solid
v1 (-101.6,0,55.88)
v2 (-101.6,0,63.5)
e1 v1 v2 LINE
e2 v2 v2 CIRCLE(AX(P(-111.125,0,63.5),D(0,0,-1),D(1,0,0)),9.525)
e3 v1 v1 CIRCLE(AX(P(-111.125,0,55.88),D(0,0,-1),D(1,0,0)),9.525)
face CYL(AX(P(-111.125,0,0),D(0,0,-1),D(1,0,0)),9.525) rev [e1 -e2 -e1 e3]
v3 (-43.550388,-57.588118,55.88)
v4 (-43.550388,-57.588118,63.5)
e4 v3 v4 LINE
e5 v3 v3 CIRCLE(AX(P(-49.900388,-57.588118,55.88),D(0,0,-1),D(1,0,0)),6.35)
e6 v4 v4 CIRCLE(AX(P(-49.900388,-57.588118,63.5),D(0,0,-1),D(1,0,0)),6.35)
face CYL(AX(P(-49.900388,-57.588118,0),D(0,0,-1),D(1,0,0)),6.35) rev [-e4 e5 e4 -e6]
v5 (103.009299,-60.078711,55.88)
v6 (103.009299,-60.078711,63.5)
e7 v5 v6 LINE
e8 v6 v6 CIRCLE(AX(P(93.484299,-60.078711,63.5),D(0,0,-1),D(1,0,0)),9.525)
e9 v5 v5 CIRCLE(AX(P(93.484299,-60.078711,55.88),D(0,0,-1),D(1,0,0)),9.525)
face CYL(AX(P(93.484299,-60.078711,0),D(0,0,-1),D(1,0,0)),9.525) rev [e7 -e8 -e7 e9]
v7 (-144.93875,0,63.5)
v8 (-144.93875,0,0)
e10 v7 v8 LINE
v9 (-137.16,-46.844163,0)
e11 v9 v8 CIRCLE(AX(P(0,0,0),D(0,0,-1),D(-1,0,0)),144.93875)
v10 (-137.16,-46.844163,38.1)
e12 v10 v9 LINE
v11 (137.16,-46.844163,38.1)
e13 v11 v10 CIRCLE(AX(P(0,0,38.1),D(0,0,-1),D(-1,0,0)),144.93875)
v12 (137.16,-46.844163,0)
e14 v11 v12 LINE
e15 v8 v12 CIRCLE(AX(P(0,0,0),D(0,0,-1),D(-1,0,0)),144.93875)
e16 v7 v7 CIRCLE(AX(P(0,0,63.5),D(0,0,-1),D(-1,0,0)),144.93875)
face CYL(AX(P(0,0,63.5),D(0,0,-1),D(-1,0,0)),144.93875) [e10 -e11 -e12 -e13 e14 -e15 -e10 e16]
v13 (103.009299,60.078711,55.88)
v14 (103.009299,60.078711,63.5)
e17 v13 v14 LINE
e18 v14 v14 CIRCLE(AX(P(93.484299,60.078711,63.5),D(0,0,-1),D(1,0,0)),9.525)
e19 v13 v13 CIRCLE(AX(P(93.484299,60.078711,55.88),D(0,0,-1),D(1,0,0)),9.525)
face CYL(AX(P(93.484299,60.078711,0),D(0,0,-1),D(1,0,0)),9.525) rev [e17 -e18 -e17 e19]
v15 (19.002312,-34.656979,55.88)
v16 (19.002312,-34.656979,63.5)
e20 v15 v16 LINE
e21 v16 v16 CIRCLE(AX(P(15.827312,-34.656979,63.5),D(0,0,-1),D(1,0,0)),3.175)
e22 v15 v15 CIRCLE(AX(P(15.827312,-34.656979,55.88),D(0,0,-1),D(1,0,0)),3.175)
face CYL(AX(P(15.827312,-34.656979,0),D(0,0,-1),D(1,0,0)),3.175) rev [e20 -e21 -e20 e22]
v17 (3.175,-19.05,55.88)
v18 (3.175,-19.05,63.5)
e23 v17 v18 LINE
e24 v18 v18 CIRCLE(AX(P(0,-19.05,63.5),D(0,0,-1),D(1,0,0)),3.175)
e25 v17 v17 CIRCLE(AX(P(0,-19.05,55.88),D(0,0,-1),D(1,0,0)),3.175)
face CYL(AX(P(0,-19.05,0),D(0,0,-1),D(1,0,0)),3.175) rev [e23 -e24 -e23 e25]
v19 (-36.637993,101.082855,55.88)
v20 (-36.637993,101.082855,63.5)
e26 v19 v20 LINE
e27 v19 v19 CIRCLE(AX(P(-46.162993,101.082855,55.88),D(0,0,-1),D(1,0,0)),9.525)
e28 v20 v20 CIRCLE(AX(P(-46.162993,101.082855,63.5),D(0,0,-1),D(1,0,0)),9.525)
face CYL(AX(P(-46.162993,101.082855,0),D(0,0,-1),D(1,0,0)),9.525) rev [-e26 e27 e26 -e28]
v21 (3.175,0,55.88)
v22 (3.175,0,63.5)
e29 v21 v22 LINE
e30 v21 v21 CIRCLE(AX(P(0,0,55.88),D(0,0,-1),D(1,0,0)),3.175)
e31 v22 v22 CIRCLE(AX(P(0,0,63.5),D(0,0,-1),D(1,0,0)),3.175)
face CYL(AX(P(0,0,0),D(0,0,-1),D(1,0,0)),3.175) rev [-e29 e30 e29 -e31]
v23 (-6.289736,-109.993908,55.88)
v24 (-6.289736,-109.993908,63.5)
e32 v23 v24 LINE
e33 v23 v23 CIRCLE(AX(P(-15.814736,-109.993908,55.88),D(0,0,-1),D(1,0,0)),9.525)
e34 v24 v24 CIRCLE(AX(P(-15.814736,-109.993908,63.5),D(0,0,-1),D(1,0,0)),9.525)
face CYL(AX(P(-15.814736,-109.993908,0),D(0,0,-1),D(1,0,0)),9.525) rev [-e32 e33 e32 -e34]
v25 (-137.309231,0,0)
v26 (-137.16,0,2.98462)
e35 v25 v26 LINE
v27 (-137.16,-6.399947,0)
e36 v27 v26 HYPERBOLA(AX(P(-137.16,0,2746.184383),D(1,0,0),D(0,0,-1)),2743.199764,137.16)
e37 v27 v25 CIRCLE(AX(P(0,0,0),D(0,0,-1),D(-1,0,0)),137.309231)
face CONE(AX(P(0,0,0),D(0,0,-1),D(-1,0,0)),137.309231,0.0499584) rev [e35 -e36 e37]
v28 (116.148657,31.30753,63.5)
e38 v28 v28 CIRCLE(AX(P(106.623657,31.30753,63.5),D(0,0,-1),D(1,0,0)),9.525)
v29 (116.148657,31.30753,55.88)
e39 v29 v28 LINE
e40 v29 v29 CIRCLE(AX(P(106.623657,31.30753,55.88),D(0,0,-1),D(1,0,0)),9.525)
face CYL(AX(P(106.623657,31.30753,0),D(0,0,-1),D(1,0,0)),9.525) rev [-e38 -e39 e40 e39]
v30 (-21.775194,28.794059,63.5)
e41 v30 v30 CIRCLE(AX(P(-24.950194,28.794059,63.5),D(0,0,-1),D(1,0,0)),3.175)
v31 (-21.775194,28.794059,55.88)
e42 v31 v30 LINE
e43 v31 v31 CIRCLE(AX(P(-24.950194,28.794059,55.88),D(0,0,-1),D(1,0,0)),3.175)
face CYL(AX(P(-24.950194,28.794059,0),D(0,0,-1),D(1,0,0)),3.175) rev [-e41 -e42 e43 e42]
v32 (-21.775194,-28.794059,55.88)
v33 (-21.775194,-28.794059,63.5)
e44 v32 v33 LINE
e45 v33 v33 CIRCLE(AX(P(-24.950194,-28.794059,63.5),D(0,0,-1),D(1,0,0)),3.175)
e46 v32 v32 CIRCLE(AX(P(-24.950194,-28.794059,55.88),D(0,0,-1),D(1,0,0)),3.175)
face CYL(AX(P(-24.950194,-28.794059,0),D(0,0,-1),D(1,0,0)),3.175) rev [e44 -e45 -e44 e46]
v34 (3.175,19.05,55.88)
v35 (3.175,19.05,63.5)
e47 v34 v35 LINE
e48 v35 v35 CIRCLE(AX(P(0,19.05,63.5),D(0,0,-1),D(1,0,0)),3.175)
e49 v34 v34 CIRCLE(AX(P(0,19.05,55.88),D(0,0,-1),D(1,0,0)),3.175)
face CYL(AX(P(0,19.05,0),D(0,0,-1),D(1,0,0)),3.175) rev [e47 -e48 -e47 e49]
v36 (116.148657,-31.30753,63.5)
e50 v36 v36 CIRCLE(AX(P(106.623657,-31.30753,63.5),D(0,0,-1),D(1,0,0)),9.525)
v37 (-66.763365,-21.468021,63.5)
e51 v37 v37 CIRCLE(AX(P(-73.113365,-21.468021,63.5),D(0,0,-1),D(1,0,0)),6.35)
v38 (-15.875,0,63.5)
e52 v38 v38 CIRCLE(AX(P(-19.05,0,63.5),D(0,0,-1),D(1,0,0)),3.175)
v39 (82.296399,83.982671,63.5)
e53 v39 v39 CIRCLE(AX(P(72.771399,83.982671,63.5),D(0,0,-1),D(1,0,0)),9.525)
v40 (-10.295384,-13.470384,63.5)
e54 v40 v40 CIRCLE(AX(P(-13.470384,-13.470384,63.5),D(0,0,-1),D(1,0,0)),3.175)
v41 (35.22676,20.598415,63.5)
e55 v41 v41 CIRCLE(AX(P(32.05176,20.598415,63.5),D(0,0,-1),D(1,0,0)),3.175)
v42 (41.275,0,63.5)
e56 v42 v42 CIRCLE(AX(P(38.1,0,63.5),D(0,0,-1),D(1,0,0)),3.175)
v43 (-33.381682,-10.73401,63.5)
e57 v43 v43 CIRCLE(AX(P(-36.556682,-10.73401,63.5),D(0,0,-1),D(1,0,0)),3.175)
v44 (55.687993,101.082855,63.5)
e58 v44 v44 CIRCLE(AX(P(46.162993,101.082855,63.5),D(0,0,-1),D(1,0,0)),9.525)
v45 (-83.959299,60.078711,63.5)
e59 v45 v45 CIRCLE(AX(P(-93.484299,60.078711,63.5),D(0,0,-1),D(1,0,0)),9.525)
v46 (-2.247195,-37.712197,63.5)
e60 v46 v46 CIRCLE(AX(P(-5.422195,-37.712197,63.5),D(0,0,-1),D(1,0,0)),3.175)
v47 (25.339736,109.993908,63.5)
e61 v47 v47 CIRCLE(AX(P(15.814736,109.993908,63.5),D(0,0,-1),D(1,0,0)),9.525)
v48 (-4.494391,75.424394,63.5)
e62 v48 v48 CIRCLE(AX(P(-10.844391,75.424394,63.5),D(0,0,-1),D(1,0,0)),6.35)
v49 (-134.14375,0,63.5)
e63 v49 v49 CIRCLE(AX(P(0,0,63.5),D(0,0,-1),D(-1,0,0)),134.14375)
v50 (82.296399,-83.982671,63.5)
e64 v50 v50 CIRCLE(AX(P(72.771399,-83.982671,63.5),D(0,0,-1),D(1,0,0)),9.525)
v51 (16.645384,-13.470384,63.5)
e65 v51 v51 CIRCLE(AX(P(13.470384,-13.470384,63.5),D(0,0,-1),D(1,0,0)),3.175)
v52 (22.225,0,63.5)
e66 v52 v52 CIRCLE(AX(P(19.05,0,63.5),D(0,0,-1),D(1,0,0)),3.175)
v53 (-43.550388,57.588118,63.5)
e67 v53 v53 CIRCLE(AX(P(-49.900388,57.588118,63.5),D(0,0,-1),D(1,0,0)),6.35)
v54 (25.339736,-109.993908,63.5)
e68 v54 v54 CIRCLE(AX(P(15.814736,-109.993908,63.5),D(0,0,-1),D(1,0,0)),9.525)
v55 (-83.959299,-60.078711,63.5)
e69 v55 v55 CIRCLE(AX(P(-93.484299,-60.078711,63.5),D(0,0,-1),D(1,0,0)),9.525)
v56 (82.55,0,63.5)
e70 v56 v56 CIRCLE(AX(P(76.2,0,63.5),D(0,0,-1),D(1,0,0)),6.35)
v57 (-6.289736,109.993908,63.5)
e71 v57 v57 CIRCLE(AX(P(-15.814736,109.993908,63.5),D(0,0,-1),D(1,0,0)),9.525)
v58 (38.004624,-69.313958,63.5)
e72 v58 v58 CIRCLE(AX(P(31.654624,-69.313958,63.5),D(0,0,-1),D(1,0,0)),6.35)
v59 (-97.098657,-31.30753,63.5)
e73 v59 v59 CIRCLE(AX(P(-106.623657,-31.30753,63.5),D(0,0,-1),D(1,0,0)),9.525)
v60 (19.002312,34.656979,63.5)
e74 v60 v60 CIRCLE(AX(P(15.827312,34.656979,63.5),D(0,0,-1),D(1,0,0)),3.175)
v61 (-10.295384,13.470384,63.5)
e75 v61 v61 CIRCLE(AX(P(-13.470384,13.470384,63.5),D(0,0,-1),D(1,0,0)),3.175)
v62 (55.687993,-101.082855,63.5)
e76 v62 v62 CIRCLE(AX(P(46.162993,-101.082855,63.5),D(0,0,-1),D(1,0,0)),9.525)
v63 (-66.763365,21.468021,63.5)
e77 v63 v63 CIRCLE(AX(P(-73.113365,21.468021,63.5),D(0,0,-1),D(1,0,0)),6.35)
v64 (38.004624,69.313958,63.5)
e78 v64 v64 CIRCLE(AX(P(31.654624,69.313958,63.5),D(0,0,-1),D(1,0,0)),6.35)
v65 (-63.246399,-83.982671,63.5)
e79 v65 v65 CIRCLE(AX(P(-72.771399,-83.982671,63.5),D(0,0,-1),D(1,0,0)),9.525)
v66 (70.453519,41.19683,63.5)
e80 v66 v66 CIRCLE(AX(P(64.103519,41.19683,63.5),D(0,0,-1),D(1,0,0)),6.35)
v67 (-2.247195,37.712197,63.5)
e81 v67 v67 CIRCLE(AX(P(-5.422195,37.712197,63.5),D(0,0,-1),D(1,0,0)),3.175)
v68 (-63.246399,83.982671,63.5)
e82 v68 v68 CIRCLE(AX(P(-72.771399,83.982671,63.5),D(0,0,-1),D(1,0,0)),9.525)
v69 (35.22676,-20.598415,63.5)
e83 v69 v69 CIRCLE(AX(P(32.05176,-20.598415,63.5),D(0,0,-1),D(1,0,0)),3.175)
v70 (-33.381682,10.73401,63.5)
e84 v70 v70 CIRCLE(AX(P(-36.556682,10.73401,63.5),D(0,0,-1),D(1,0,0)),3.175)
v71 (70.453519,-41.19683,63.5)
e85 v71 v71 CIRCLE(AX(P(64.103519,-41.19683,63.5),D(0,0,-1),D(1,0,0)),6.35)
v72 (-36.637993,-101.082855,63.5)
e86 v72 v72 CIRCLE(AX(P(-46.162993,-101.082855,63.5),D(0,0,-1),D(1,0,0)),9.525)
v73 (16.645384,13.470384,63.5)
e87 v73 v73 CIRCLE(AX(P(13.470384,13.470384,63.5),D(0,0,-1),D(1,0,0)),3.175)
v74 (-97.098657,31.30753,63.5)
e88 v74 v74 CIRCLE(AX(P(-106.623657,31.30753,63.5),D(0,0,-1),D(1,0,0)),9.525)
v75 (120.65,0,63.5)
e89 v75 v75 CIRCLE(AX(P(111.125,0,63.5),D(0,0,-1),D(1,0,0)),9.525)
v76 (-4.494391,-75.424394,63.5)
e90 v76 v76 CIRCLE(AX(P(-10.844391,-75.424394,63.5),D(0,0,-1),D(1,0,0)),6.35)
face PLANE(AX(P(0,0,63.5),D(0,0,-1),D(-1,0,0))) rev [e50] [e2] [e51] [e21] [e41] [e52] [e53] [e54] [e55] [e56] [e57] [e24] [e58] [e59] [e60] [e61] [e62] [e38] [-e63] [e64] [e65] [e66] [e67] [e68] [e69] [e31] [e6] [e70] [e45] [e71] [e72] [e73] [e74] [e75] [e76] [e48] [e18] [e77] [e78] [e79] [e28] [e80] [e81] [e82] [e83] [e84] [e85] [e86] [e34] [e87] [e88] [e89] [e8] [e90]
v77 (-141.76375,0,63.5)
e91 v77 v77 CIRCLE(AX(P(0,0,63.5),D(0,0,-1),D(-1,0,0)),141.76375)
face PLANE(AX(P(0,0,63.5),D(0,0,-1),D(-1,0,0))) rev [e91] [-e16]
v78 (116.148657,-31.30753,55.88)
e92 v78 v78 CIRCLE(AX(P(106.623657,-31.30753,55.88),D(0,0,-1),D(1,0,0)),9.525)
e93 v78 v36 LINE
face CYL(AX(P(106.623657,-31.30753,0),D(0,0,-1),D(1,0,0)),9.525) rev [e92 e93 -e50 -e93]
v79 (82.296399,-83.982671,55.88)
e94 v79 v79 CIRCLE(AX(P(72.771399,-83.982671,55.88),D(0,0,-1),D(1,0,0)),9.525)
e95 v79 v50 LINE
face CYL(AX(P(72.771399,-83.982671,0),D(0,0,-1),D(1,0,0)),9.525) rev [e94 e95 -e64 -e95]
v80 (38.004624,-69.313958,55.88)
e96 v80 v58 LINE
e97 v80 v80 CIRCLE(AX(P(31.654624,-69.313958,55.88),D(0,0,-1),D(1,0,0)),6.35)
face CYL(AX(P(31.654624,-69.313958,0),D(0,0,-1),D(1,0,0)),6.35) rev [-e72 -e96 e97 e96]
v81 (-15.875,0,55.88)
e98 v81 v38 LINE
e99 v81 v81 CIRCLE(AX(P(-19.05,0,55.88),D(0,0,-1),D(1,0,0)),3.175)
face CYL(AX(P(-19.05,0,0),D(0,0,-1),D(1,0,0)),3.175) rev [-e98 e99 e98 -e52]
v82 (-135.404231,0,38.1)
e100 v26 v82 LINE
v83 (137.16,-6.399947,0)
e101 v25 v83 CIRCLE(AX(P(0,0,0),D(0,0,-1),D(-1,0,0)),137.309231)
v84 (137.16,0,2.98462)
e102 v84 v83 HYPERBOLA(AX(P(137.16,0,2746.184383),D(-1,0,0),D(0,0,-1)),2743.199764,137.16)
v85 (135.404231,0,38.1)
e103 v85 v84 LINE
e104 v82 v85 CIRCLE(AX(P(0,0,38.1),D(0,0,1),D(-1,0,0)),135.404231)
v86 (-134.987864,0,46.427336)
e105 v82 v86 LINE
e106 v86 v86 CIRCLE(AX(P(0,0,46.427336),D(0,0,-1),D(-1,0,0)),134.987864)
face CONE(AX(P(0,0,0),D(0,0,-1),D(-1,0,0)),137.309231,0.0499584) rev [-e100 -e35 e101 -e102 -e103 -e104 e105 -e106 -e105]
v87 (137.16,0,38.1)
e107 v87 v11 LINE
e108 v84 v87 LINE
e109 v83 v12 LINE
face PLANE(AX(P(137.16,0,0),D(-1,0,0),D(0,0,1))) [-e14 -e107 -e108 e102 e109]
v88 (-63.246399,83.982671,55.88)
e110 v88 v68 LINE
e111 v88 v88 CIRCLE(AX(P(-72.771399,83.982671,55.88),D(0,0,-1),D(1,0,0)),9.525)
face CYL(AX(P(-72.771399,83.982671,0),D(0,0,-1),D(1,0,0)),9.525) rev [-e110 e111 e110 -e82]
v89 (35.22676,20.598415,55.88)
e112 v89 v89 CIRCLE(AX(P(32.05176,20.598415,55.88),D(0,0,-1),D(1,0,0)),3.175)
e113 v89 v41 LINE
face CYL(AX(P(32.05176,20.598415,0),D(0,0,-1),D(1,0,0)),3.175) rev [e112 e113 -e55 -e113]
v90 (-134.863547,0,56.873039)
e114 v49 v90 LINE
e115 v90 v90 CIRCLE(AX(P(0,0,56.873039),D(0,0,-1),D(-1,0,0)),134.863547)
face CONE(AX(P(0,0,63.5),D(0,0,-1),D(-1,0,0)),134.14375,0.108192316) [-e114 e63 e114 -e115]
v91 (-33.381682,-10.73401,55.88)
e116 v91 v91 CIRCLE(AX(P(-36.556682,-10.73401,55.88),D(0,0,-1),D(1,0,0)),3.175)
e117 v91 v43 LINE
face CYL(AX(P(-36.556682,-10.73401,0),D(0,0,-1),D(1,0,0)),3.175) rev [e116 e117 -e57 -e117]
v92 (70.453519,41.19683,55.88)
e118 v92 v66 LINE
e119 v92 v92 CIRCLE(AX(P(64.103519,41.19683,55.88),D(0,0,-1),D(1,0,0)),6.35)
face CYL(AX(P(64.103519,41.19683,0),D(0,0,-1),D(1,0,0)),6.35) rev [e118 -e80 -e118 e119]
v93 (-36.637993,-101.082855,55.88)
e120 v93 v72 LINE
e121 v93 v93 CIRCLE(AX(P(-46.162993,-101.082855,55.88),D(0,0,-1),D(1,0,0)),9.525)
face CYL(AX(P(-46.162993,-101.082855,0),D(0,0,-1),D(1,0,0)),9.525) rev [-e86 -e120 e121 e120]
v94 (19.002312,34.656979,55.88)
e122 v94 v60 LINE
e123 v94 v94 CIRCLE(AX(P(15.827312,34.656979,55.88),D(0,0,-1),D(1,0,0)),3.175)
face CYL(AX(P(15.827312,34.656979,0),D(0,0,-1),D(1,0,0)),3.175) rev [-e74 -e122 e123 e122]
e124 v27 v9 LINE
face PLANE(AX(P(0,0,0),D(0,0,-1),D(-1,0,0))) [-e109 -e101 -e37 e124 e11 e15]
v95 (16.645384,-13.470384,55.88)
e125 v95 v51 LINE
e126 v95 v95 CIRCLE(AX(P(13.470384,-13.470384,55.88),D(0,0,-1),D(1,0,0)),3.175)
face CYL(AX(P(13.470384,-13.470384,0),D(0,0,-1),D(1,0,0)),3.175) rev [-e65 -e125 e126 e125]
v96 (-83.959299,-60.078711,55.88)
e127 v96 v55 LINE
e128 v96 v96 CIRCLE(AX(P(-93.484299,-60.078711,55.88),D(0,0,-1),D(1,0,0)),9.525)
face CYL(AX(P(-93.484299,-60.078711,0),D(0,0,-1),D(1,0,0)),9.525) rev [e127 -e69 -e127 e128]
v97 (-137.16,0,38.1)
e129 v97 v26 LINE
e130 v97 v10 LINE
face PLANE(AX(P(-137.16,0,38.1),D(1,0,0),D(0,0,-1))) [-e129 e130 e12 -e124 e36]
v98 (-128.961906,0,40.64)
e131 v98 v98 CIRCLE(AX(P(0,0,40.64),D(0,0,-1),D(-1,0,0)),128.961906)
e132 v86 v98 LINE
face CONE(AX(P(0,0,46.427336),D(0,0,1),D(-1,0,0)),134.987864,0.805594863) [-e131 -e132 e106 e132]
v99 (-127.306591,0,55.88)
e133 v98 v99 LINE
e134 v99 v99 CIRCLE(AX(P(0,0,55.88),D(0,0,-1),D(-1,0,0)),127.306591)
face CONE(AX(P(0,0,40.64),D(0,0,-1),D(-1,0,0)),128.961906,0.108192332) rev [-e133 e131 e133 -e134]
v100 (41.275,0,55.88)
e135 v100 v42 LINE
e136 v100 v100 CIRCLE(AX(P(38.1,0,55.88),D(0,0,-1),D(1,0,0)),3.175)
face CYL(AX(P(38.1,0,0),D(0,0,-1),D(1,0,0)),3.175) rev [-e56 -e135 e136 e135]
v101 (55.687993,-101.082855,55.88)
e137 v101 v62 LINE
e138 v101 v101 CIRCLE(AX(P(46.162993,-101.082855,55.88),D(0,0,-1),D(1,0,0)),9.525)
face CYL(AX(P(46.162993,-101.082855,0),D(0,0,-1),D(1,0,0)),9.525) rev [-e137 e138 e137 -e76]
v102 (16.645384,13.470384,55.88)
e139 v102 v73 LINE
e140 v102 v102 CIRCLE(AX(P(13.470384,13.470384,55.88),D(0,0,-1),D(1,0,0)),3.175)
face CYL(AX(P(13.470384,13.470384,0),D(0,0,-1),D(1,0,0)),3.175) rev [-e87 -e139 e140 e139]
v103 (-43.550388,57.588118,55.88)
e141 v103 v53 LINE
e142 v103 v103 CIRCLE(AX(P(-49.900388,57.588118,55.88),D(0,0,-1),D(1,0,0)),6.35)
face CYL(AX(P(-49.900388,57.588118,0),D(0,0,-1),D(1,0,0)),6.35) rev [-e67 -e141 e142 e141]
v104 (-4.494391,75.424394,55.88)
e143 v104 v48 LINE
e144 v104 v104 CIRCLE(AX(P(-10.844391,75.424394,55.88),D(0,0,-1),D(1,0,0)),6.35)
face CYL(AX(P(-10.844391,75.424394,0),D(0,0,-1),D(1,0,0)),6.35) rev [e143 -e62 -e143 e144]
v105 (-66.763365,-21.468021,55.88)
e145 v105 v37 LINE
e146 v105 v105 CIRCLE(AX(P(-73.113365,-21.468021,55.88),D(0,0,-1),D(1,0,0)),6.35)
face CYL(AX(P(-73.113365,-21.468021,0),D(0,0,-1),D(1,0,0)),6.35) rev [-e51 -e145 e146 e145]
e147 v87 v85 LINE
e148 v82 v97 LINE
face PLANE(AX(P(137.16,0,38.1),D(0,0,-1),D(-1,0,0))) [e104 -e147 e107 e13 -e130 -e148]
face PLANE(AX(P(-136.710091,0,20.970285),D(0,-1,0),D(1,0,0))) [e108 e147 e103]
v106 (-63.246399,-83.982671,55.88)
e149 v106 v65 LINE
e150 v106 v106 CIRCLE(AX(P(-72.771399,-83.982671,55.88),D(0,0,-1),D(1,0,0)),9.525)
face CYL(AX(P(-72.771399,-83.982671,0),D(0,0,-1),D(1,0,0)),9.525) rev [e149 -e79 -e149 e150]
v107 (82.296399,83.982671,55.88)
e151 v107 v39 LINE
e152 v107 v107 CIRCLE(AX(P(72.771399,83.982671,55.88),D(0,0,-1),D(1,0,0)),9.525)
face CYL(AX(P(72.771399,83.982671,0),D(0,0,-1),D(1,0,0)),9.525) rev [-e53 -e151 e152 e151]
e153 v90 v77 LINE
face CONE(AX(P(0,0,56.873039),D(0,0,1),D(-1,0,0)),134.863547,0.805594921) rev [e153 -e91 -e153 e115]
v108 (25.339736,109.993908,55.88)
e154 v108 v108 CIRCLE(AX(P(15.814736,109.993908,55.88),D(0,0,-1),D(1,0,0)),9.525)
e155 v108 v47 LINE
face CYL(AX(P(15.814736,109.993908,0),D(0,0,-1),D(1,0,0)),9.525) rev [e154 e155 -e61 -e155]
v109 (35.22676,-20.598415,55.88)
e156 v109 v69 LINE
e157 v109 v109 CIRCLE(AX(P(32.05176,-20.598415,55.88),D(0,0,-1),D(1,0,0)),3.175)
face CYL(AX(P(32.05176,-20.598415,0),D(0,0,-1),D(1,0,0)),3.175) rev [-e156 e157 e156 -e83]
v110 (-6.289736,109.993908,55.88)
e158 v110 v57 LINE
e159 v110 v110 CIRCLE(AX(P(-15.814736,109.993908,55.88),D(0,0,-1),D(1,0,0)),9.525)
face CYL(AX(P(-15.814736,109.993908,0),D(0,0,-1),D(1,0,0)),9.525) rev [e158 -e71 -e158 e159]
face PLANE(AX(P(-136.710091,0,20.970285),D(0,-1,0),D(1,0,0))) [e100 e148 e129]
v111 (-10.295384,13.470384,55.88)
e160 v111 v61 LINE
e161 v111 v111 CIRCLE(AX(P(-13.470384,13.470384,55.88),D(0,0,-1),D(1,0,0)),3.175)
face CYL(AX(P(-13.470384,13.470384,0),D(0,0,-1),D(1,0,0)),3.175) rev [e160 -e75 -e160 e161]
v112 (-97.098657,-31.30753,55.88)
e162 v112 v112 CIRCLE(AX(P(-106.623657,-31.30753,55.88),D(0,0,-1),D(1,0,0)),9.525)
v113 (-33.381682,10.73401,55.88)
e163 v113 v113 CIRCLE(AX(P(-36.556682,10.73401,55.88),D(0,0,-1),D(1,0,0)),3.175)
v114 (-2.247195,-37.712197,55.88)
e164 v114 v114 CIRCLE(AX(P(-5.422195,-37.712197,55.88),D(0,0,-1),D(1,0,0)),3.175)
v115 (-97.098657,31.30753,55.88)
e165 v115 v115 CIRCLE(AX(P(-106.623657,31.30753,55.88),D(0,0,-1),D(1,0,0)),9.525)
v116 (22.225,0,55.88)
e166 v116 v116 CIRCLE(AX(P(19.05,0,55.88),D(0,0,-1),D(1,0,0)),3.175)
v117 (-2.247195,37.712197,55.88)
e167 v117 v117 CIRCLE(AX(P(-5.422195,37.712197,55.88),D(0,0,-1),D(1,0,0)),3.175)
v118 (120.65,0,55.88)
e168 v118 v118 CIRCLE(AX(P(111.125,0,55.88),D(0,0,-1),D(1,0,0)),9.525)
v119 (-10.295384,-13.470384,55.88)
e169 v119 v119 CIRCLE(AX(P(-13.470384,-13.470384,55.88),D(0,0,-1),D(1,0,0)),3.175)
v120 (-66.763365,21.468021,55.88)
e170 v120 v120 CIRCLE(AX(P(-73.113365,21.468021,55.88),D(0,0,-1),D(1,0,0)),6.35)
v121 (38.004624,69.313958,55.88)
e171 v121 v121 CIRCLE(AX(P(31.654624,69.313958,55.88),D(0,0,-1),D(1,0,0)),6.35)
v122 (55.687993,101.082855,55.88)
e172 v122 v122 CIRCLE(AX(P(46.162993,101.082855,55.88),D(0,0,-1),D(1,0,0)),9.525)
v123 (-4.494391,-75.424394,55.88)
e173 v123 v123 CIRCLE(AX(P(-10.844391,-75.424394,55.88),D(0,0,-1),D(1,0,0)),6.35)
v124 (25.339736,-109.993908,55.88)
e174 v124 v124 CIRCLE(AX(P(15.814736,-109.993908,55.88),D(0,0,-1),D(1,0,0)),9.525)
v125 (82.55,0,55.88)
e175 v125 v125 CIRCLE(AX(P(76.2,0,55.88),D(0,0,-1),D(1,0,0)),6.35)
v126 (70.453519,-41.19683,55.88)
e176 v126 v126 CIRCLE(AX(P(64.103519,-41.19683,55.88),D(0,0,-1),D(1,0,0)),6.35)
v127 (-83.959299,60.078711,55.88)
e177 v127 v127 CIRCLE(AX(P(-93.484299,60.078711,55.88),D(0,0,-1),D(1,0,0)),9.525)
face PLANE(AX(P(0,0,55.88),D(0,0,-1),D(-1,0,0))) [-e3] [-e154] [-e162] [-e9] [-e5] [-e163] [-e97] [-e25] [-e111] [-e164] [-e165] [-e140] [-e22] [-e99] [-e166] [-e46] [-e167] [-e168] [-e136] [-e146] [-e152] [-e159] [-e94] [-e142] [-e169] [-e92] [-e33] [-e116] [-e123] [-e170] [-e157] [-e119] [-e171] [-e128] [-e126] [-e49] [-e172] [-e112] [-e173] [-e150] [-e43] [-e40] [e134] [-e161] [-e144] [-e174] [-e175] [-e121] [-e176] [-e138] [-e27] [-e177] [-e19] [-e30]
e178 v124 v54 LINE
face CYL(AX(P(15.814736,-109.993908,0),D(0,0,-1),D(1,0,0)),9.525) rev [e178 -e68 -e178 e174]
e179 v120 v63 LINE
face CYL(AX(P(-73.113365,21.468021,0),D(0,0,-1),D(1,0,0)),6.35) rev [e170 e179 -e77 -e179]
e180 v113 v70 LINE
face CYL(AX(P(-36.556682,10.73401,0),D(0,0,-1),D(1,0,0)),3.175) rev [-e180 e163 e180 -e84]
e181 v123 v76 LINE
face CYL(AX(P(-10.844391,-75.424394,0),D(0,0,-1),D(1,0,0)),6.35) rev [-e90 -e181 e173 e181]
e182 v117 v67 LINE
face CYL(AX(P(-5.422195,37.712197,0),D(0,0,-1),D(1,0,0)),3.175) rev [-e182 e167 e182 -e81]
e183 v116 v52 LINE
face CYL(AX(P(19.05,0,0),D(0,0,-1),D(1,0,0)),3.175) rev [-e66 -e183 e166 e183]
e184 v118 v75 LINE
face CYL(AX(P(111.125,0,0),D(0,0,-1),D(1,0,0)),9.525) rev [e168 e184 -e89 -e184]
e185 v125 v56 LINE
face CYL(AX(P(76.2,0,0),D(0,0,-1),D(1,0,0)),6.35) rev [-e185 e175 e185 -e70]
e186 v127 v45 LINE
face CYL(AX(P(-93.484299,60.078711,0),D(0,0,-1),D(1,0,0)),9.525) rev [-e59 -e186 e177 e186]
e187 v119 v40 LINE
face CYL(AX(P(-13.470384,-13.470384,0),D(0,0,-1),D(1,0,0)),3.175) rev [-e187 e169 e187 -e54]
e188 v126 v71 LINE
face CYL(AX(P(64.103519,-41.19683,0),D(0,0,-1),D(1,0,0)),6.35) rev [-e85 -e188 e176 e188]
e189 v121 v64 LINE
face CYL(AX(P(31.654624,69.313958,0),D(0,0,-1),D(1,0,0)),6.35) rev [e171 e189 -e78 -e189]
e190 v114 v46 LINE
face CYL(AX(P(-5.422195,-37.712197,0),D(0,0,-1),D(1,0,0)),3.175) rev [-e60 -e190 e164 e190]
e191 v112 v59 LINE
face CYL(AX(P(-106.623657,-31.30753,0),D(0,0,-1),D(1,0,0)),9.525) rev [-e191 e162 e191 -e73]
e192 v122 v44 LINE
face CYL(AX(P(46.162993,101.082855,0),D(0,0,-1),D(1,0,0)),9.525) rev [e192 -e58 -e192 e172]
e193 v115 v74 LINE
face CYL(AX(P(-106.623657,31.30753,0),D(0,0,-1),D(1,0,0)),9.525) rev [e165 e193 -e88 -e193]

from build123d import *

# Parameters (mm, degrees)
F3_DEPTH = 144.93975
F4_R     = 3.175
F4_R_2   = 6.35
F4_R_3   = 9.525
F5_DEPTH = 63.501


with BuildPart() as f1:
    # F0 (on Front) → F1 (revolve)
    with BuildSketch(Plane.XZ):
        Polygon((-134.863547, 56.873039), (-141.76375, 63.5), (-144.93875, 63.5), (-144.93875, 0), (-137.309231, 0), (-134.987864, 46.427336), (-128.961906, 40.64), (-127.306591, 55.88), (0, 55.88), (0, 63.5), (-134.14375, 63.5), align=None)
    revolve(axis=Axis((0, 0, 31.75), (0, 0, -1)))

    # F2 (on Front) → F3 (cut, through all)
    with BuildSketch(Plane.XZ):
        Polygon((-137.16, 38.1), (-137.16, 2.984619), (-135.404231, 38.1), align=None)
        Polygon((-135.404231, 38.1), (-137.16, 2.984619), (-137.16, 0), (0, 0), (137.16, 0), (137.16, 38.1), (0, 38.1), align=None)
    extrude(amount=F3_DEPTH, mode=Mode.SUBTRACT)

    # F4 (on Top) → F5 (cut, through all)
    with BuildSketch(Plane.XY):
        with Locations((19.05, 0)):
            Circle(F4_R)
        with Locations((13.470384, 13.470384)):
            Circle(F4_R)
        with Locations((0, 19.05)):
            Circle(F4_R)
        with Locations((-13.470384, 13.470384)):
            Circle(F4_R)
        with Locations((-19.05, 0)):
            Circle(F4_R)
        with Locations((-13.470384, -13.470384)):
            Circle(F4_R)
        with Locations((0, -19.05)):
            Circle(F4_R)
        with Locations((13.470384, -13.470384)):
            Circle(F4_R)
        with Locations((38.1, 0)):
            Circle(F4_R)
        with Locations((32.05176, 20.598415)):
            Circle(F4_R)
        with Locations((15.827312, 34.656979)):
            Circle(F4_R)
        with Locations((76.2, 0)):
            Circle(F4_R_2)
        with Locations((-5.422195, 37.712197)):
            Circle(F4_R)
        with Locations((-24.950194, 28.794059)):
            Circle(F4_R)
        with Locations((-36.556682, 10.73401)):
            Circle(F4_R)
        with Locations((-36.556682, -10.73401)):
            Circle(F4_R)
        with Locations((-24.950194, -28.794059)):
            Circle(F4_R)
        with Locations((-5.422195, -37.712197)):
            Circle(F4_R)
        with Locations((15.827312, -34.656979)):
            Circle(F4_R)
        with Locations((32.05176, -20.598415)):
            Circle(F4_R)
        with Locations((64.103519, 41.19683)):
            Circle(F4_R_2)
        with Locations((31.654624, 69.313958)):
            Circle(F4_R_2)
        with Locations((-10.844391, 75.424394)):
            Circle(F4_R_2)
        with Locations((-49.900388, 57.588118)):
            Circle(F4_R_2)
        with Locations((-73.113365, 21.468021)):
            Circle(F4_R_2)
        with Locations((-73.113365, -21.468021)):
            Circle(F4_R_2)
        with Locations((-49.900388, -57.588118)):
            Circle(F4_R_2)
        with Locations((-10.844391, -75.424394)):
            Circle(F4_R_2)
        with Locations((31.654624, -69.313958)):
            Circle(F4_R_2)
        with Locations((64.103519, -41.19683)):
            Circle(F4_R_2)
        Circle(F4_R)
        with Locations((111.125, 0)):
            Circle(F4_R_3)
        with Locations((106.623657, 31.30753)):
            Circle(F4_R_3)
        with Locations((93.484299, 60.078711)):
            Circle(F4_R_3)
        with Locations((72.771399, 83.982671)):
            Circle(F4_R_3)
        with Locations((46.162993, 101.082855)):
            Circle(F4_R_3)
        with Locations((15.814736, 109.993908)):
            Circle(F4_R_3)
        with Locations((-15.814736, 109.993908)):
            Circle(F4_R_3)
        with Locations((-46.162993, 101.082855)):
            Circle(F4_R_3)
        with Locations((-72.771399, 83.982671)):
            Circle(F4_R_3)
        with Locations((-93.484299, 60.078711)):
            Circle(F4_R_3)
        with Locations((-106.623657, 31.30753)):
            Circle(F4_R_3)
        with Locations((-111.125, 0)):
            Circle(F4_R_3)
        with Locations((-106.623657, -31.30753)):
            Circle(F4_R_3)
        with Locations((-93.484299, -60.078711)):
            Circle(F4_R_3)
        with Locations((-72.771399, -83.982671)):
            Circle(F4_R_3)
        with Locations((-46.162993, -101.082855)):
            Circle(F4_R_3)
        with Locations((-15.814736, -109.993908)):
            Circle(F4_R_3)
        with Locations((15.814736, -109.993908)):
            Circle(F4_R_3)
        with Locations((46.162993, -101.082855)):
            Circle(F4_R_3)
        with Locations((72.771399, -83.982671)):
            Circle(F4_R_3)
        with Locations((93.484299, -60.078711)):
            Circle(F4_R_3)
        with Locations((106.623657, -31.30753)):
            Circle(F4_R_3)
    extrude(amount=F5_DEPTH, mode=Mode.SUBTRACT)


solid = f1.part
